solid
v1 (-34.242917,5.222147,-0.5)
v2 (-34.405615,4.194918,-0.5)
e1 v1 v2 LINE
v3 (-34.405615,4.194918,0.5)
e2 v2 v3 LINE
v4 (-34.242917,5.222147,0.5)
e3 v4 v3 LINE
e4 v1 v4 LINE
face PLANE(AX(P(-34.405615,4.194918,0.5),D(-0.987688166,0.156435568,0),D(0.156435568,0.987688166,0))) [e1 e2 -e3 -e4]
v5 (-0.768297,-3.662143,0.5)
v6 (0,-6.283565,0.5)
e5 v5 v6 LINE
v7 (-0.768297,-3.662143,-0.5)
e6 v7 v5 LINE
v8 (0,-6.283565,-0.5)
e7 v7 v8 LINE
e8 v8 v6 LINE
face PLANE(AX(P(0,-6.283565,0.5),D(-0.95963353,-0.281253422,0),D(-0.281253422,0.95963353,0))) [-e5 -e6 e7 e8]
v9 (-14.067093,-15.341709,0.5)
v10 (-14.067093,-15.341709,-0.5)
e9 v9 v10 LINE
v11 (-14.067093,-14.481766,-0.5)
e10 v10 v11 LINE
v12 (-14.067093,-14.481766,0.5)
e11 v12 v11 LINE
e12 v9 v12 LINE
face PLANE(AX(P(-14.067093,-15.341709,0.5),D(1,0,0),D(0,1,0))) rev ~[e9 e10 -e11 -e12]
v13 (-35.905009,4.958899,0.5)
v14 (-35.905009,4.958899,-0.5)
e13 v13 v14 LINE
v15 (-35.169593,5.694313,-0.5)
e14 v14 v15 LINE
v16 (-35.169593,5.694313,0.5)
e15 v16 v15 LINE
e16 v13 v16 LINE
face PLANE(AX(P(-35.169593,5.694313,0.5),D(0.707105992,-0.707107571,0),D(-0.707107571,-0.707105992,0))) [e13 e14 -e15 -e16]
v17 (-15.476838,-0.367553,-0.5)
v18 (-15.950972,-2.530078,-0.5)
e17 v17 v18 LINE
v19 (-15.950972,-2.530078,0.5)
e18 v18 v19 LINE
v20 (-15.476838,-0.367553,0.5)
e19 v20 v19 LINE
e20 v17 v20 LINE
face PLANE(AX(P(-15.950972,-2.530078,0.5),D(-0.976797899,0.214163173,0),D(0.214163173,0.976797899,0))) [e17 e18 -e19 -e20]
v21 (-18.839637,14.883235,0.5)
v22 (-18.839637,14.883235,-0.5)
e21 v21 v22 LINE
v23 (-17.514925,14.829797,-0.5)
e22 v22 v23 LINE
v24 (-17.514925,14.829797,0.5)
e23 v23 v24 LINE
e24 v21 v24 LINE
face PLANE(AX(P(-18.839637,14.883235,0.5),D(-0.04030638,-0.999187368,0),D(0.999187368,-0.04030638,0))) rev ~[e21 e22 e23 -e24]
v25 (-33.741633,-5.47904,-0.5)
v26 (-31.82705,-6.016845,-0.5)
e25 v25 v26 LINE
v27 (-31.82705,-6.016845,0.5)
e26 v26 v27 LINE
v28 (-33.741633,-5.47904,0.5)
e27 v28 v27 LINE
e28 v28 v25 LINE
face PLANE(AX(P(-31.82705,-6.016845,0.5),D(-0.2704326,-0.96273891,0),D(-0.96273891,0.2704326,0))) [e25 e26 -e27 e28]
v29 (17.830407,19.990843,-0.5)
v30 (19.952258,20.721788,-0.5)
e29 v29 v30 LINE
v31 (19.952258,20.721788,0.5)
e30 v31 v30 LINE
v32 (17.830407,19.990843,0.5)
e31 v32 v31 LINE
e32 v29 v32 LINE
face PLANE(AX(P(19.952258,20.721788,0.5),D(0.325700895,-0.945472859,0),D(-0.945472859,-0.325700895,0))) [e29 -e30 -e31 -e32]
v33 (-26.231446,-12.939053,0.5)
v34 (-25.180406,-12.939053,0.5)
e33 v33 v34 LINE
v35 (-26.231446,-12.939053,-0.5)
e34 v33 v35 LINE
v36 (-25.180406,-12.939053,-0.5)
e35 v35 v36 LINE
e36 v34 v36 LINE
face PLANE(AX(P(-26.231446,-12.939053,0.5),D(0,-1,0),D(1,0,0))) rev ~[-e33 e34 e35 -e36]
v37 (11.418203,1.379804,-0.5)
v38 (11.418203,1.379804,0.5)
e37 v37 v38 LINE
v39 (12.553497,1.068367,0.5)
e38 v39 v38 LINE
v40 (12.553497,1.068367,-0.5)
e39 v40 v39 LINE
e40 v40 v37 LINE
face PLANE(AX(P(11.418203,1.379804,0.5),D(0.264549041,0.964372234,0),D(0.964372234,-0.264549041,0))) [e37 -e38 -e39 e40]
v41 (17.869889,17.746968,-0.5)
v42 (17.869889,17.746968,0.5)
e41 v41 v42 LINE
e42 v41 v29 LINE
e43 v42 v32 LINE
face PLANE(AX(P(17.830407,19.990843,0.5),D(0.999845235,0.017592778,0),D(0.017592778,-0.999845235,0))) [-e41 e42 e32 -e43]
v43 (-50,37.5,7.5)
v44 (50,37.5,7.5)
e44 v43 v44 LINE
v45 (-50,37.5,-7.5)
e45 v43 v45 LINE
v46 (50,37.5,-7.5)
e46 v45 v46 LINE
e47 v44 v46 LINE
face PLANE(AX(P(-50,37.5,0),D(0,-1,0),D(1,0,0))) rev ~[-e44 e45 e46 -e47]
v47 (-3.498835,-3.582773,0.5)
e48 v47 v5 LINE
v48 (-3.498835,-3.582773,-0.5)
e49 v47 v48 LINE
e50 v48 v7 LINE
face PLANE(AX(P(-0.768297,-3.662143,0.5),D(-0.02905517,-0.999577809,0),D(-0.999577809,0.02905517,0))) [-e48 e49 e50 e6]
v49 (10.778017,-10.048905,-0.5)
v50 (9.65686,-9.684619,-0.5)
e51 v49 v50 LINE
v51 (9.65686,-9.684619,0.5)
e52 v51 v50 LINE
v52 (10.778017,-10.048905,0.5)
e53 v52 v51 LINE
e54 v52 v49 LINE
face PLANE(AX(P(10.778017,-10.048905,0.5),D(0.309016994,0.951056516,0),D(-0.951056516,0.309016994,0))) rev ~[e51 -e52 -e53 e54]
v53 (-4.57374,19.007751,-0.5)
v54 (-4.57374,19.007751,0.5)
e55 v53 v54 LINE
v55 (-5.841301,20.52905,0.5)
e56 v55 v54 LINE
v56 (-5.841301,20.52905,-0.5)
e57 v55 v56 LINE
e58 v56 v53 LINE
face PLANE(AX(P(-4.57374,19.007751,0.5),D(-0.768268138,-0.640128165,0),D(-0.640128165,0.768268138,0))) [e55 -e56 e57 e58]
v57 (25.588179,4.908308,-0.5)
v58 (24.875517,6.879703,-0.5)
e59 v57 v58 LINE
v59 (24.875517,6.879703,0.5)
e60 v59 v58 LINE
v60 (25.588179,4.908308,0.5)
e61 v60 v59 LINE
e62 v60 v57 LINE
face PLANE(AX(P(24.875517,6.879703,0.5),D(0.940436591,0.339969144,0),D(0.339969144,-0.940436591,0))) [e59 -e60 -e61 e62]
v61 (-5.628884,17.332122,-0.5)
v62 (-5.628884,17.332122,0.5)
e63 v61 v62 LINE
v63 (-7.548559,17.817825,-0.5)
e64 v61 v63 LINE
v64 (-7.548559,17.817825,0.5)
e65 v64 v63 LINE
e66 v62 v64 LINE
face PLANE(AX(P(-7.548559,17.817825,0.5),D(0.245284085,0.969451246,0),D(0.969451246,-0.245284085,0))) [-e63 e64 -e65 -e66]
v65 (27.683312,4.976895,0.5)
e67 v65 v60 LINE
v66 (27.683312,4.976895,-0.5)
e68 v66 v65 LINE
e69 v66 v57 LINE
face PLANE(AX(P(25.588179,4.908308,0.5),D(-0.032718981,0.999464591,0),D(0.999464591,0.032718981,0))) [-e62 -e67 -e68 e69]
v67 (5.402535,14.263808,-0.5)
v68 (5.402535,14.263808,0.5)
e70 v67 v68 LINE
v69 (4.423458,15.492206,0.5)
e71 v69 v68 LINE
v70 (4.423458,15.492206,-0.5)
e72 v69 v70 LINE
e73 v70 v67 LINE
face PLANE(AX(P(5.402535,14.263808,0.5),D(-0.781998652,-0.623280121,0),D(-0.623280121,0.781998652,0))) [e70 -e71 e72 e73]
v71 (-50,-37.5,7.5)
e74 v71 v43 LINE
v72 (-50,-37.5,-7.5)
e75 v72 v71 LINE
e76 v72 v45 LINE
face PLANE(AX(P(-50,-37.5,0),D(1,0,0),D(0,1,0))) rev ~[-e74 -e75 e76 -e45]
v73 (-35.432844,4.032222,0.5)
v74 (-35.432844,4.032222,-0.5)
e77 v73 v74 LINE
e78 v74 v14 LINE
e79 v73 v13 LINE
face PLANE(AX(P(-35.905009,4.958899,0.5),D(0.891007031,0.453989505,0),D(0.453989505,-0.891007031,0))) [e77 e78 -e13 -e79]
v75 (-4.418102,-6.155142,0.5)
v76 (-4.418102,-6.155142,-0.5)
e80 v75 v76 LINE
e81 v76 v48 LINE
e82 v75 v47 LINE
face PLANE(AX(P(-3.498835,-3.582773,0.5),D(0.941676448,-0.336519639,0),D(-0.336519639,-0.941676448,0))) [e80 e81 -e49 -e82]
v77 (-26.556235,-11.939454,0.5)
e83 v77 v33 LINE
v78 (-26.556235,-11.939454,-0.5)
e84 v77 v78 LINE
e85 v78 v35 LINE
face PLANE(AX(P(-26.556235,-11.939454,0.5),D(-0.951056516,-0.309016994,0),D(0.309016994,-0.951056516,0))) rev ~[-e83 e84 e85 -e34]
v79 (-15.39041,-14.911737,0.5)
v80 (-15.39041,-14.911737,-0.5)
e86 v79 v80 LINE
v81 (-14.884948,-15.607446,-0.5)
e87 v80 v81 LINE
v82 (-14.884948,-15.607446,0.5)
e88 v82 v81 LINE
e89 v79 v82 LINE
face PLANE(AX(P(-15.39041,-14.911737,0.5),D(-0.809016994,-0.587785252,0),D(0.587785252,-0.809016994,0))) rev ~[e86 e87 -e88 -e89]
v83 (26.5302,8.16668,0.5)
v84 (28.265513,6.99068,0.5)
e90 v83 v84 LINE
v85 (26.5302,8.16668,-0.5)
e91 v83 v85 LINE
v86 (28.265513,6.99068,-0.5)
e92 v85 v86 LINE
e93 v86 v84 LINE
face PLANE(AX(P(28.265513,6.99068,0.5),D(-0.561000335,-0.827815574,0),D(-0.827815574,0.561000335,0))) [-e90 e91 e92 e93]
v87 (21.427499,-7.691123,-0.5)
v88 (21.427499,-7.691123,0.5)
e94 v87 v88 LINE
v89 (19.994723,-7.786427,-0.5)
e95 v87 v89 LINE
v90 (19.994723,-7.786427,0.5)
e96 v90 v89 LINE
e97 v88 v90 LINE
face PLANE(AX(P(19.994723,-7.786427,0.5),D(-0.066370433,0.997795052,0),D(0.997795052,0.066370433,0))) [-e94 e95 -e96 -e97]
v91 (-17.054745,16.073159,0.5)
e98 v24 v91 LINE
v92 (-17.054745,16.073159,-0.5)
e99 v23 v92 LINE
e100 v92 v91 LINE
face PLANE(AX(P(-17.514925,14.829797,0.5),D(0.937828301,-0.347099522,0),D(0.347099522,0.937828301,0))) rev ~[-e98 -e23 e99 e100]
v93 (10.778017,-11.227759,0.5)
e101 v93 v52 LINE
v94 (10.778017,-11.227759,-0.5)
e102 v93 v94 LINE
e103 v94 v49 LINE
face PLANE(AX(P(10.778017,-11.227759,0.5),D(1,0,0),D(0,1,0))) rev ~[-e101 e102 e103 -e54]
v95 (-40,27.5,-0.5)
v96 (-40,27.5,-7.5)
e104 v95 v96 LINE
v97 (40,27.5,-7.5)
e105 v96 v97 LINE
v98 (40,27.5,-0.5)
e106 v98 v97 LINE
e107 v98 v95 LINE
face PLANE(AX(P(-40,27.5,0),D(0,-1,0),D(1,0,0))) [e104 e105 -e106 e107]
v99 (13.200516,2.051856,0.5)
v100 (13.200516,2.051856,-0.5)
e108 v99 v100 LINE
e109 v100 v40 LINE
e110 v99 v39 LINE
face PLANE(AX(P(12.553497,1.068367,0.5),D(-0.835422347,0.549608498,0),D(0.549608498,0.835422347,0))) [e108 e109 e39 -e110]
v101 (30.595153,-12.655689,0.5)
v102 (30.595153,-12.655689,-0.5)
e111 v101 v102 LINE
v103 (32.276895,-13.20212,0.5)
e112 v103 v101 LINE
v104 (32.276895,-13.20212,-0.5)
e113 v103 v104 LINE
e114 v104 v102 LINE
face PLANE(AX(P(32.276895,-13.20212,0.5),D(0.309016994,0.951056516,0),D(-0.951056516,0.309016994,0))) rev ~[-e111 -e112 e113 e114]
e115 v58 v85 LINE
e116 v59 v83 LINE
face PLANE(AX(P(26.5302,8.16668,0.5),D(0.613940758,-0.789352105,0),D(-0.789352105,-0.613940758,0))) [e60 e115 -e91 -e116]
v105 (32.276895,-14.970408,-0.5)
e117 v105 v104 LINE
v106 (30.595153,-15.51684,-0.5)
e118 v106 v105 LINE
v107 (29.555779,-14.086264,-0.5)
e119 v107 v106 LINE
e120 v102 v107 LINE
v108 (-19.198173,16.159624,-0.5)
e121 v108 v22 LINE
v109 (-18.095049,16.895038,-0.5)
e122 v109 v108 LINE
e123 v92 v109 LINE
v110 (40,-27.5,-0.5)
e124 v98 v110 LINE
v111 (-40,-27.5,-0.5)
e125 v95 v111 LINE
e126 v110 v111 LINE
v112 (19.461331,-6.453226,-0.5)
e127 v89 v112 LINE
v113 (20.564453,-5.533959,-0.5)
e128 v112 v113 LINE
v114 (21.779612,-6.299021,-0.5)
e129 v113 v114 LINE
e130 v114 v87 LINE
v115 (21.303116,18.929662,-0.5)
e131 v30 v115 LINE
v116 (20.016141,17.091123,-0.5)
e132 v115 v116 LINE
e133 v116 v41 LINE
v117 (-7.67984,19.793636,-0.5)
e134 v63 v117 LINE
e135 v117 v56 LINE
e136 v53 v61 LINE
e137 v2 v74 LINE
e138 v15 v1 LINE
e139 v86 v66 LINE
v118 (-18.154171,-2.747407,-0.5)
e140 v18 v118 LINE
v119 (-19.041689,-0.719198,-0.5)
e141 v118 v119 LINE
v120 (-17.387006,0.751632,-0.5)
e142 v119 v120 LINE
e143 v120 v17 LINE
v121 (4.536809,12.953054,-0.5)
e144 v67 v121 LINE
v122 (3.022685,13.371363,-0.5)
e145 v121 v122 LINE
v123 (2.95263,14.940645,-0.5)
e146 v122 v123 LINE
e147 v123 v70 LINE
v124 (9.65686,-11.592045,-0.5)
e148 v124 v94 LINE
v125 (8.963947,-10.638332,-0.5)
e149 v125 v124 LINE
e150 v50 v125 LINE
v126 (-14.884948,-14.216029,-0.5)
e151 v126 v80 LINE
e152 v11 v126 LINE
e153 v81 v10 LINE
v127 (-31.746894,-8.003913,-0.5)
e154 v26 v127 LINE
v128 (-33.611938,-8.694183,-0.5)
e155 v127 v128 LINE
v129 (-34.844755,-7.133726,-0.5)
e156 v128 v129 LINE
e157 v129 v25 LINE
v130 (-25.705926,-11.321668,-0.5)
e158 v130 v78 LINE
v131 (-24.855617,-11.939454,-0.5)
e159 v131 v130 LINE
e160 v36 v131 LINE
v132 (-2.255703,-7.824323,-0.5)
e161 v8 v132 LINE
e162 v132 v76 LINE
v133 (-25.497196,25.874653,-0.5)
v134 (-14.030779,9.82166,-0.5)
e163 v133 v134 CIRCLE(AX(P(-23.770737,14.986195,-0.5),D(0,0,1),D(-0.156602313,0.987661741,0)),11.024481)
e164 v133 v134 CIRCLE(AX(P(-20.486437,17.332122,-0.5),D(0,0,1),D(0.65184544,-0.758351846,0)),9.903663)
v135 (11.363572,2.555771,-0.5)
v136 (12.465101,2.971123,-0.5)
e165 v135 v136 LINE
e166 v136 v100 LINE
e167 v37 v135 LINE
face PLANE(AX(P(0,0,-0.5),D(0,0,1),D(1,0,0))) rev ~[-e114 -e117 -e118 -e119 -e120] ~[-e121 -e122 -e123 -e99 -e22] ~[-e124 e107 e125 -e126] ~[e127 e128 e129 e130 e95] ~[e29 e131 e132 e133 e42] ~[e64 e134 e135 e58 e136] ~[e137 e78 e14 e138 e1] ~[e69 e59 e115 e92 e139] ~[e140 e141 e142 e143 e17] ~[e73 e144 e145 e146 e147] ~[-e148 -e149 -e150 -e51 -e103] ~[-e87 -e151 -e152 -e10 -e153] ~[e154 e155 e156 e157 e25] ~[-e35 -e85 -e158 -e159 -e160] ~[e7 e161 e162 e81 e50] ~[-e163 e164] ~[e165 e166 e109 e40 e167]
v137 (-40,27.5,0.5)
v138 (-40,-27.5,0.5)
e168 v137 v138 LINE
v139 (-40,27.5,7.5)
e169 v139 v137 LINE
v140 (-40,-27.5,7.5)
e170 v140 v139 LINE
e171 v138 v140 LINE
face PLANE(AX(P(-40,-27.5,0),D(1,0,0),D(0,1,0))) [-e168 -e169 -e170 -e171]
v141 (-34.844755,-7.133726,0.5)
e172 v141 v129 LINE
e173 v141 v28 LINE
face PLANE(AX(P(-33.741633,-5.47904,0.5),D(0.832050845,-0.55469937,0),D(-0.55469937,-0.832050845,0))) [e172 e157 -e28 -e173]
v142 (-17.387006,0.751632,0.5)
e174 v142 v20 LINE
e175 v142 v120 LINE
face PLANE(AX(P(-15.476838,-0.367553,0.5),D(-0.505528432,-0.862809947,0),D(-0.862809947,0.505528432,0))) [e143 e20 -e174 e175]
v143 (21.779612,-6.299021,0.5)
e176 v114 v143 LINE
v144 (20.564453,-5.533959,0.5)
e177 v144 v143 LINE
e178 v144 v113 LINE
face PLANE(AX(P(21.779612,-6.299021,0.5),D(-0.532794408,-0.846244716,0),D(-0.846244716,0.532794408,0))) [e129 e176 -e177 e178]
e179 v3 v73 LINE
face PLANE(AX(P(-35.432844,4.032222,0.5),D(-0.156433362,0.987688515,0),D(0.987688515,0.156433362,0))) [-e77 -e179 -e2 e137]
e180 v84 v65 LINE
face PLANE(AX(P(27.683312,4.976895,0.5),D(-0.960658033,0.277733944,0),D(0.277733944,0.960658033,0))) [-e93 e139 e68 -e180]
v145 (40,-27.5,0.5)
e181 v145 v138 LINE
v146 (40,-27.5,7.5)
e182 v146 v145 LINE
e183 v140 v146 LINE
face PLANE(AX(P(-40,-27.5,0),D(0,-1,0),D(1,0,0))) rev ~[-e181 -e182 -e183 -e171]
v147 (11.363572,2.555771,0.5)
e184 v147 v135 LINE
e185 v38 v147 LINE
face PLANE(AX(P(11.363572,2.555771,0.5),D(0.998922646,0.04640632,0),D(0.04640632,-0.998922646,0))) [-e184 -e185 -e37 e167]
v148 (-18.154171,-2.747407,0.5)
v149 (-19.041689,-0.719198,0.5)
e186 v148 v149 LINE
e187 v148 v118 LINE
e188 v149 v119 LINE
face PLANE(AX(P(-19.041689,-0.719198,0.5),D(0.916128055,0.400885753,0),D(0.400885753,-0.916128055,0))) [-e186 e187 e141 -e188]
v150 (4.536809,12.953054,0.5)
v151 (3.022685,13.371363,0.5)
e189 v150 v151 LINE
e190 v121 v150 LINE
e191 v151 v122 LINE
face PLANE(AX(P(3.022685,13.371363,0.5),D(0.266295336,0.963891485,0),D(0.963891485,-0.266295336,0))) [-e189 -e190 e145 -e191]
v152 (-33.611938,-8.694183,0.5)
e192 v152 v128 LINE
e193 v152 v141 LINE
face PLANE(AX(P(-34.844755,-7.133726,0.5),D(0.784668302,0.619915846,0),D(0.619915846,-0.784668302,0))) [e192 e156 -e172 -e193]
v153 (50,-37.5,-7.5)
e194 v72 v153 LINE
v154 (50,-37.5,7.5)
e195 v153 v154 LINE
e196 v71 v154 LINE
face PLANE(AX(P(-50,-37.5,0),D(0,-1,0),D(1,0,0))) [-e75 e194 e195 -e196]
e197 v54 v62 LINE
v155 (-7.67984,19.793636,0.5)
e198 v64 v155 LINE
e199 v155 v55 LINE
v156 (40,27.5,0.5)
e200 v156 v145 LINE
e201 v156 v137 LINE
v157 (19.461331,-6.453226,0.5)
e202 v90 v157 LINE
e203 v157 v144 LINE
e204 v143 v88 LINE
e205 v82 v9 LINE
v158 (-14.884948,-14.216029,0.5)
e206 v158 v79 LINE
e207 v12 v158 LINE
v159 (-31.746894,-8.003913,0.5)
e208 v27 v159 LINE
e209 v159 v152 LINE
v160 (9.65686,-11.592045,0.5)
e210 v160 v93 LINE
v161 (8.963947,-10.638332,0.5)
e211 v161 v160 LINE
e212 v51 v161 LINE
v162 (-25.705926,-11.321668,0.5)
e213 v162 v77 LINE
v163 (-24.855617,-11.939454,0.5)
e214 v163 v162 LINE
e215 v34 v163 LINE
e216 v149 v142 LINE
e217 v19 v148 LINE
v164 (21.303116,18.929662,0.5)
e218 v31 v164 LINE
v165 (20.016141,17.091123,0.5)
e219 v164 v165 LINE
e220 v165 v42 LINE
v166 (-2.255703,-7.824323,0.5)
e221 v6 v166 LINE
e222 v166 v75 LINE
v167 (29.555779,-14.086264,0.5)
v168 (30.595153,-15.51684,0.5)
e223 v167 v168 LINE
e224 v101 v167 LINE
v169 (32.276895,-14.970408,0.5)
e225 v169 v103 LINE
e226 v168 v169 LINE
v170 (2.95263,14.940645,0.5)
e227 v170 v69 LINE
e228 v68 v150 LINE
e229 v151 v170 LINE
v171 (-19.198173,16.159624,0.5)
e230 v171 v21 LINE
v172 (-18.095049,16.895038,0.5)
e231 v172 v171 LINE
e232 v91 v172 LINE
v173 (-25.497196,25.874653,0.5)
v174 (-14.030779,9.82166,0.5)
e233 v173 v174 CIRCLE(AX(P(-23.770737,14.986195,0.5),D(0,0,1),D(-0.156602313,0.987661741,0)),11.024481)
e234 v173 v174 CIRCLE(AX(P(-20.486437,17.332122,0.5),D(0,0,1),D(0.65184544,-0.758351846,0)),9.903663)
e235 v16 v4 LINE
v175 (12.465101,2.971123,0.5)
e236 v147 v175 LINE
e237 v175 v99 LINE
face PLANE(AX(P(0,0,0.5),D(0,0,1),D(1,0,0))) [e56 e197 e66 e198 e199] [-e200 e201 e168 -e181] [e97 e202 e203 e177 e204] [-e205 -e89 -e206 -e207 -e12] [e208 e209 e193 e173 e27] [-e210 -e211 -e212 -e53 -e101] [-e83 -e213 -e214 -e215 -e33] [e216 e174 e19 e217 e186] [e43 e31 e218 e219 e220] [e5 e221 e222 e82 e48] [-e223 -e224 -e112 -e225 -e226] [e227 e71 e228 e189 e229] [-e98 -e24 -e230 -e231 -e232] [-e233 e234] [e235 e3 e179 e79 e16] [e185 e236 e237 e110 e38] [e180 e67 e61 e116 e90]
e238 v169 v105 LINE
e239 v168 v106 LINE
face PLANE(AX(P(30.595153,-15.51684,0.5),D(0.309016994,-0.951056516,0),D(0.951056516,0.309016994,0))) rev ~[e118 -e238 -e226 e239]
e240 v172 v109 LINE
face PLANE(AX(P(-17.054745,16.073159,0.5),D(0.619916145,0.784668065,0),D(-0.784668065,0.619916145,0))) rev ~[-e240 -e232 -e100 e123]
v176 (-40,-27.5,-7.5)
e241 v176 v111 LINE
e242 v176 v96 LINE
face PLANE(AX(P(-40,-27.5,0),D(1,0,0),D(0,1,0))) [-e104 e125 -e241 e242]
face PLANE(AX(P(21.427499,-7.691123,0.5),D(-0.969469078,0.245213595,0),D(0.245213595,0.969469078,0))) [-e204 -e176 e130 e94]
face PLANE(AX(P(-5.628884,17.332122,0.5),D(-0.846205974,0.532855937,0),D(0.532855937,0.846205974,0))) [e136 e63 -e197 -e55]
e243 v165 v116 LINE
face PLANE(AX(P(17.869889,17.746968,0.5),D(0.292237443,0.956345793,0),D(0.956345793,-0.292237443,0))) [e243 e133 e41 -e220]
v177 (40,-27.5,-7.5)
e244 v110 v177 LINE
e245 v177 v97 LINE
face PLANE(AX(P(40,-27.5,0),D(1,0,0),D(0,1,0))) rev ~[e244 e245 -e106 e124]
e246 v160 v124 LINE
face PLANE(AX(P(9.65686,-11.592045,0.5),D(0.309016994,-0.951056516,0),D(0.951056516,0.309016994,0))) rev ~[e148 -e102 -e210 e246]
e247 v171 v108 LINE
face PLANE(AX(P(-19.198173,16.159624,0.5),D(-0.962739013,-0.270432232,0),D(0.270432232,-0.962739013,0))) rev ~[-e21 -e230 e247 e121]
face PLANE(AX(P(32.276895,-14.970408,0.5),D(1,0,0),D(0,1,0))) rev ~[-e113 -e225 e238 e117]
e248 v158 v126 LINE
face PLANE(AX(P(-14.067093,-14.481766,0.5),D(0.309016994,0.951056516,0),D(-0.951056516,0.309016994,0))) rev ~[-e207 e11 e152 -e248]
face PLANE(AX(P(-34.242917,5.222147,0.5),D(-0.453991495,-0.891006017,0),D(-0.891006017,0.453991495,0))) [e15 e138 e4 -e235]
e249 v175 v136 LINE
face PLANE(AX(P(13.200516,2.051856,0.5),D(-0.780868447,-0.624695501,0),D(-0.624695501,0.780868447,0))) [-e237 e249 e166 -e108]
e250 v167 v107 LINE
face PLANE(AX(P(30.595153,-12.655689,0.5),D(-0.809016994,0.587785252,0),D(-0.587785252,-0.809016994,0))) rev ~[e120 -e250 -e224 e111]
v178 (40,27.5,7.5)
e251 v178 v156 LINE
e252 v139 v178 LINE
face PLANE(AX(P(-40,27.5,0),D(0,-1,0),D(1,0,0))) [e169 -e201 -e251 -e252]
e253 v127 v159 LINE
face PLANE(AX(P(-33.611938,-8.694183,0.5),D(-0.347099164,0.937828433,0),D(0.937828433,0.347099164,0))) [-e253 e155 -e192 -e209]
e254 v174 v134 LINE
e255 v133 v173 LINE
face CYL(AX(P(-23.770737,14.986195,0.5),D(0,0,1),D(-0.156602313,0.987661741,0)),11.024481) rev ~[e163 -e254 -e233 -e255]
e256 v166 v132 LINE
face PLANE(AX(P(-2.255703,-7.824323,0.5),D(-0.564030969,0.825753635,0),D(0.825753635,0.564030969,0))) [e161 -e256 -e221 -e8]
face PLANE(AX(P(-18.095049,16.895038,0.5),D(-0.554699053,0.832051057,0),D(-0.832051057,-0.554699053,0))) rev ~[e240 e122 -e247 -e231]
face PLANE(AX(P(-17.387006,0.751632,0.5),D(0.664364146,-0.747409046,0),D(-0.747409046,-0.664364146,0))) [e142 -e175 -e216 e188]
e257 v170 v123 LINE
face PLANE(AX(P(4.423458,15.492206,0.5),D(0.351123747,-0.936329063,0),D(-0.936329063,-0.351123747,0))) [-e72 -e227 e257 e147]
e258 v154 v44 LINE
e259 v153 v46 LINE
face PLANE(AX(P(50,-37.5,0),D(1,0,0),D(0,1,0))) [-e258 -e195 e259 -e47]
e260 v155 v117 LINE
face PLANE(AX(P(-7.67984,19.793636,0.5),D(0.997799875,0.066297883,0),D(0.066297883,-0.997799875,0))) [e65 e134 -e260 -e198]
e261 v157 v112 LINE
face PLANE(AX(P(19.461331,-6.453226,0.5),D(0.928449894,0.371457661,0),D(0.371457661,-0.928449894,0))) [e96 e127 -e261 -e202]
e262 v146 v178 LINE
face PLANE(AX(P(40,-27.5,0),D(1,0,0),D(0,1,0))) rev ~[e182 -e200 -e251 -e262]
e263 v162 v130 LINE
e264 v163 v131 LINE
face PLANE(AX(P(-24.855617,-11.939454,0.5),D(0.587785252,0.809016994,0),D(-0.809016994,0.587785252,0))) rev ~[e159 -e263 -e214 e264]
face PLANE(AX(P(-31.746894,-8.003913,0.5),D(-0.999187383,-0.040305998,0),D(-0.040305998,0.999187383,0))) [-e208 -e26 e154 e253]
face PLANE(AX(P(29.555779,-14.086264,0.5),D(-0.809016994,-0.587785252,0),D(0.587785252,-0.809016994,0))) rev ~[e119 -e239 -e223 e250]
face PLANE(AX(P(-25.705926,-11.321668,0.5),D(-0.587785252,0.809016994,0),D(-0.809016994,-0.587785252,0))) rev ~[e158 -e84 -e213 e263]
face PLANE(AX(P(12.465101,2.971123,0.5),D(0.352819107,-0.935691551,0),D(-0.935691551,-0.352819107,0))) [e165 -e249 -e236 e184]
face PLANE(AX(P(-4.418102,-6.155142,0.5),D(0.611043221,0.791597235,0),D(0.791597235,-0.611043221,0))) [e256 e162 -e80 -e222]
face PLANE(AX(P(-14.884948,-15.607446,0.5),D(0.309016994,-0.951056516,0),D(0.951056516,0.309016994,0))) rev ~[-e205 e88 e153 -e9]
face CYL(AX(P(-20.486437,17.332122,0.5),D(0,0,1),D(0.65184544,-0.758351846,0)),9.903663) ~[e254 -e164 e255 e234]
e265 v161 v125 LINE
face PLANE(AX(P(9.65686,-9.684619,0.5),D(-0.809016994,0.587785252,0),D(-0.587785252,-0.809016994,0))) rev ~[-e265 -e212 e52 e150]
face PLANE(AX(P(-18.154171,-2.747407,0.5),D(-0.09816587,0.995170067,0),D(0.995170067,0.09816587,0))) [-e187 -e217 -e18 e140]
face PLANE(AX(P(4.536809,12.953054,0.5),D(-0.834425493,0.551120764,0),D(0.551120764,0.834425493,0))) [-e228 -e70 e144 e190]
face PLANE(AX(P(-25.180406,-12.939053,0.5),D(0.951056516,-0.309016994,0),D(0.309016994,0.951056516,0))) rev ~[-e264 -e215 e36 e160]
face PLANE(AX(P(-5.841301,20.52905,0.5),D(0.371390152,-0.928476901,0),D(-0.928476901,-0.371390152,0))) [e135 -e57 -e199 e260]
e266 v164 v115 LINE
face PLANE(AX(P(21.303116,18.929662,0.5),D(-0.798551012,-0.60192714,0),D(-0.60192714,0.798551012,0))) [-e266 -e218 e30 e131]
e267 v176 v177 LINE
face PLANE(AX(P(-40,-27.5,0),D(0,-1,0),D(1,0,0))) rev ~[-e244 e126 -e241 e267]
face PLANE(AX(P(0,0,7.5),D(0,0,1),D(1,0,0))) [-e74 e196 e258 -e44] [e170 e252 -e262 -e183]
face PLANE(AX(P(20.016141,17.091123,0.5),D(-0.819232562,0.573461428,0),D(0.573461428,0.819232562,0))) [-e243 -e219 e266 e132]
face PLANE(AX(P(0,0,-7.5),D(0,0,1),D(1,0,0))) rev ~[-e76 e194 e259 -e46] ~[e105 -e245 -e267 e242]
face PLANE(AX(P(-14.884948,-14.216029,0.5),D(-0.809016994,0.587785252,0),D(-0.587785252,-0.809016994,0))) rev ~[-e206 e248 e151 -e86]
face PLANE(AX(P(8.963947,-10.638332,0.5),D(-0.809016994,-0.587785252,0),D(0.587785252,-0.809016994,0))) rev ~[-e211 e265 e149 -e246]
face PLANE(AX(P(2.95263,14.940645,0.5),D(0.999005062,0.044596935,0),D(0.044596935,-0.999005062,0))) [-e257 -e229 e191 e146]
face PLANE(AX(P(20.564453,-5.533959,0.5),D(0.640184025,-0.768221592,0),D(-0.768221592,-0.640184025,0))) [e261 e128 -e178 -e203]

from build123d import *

# Parameters (mm, degrees)
F0_W     = 100
F0_H     = 75
F0_W_2   = 80
F0_H_2   = 55
F1_DEPTH = 7.5
F2_W     = 85
F2_H     = 60
F3_DEPTH = 0.5
F5_DEPTH = 4
F7_DEPTH = 4
F9_DEPTH = 2


with BuildPart() as f1:
    # F0 (on Top) → F1 (new body, symmetric)
    with BuildSketch(Plane.XY):
        Rectangle(F0_W, F0_H)
        Rectangle(F0_W_2, F0_H_2, mode=Mode.SUBTRACT)
    extrude(amount=F1_DEPTH, both=True)

    # F2 (on Top) → F3 (join, symmetric)
    with BuildSketch(Plane.XY):
        Rectangle(F2_W, F2_H)
    extrude(amount=F3_DEPTH, both=True)

    # F4 (on face) → F5 (cut, symmetric)
    with BuildSketch(Plane.XY.offset(0.5)):
        with BuildLine():
            ThreePointArc((-14.030779073, 9.8216604466), (-28.5453805779, 11.5757365705), (-25.4971957792, 25.8746529394))
            ThreePointArc((-25.4971957792, 25.8746529394), (-32.7417275782, 8.5783475559), (-14.030779073, 9.8216604466))
        make_face()
    extrude(amount=F5_DEPTH, both=True, mode=Mode.SUBTRACT)

    # F6 (on face) → F7 (cut, symmetric)
    with BuildSketch(Plane.XY.offset(0.5)):
        Polygon((-33.6119382633, -8.6941833252), (-31.7468941212, -8.0039128661), (-31.8270500041, -6.016845179), (-33.7416332062, -5.4790402695), (-34.8447548165, -7.1337262432), align=None)
        Polygon((-18.1541709736, -2.747406776), (-15.9509722143, -2.5300781708), (-15.4768381419, -0.3675534018), (-17.3870059292, 0.7516318018), (-19.0416886183, -0.7191984717), align=None)
        Polygon((-35.4328444953, 4.0322221243), (-34.4056151807, 4.1949180886), (-34.2429169225, 5.2221470399), (-35.1695931836, 5.6943134817), (-35.9050088677, 4.9588994397), align=None)
        Polygon((-2.2557034881, -7.8243230846), (0, -6.2835649587), (-0.7682973436, -3.6621430124), (-3.4988347035, -3.5827732766), (-4.4181022559, -6.1551420285), align=None)
        Polygon((25.5881788104, 4.9083078249), (27.6833120733, 4.9768951721), (28.2655134136, 6.9906799703), (26.5302003672, 8.1666800743), (24.8755165832, 6.8797033113), align=None)
        Polygon((19.9947226477, -7.7864271936), (21.4274991304, -7.6911230572), (21.7796117926, -6.2990210491), (20.5644529031, -5.5339588288), (19.4613307453, -6.4532263812), align=None)
        Polygon((11.3635717008, 2.5557714691), (11.4182028919, 1.3798037544), (12.5534966165, 1.068367096), (13.2005155343, 2.0518563705), (12.4651014924, 2.9711228281), align=None)
        Polygon((3.0226850162, 13.37136293), (4.5368093997, 12.9530541599), (5.4025348475, 14.2638075025), (4.4234582156, 15.4922063892), (2.9526301317, 14.9406453103), align=None)
        Polygon((19.9522579427, 20.7217878026), (17.8304072469, 19.9908427894), (17.8698893403, 17.7469684276), (20.0161413117, 17.0911228187), (21.3031158851, 18.9296623029), align=None)
        Polygon((-7.5485593761, 17.8178252237), (-5.6288838387, 17.3321217299), (-4.5737400011, 19.0077510251), (-5.8413007839, 20.529050376), (-7.6798402681, 19.7936357866), align=None)
        Polygon((-18.8396373222, 14.8832345039), (-17.5149254501, 14.8297967389), (-17.0547446343, 16.0731594196), (-18.0950491213, 16.8950375816), (-19.1981734687, 16.1596235397), align=None)
    extrude(amount=F7_DEPTH, both=True, mode=Mode.SUBTRACT)

    # F8 (on face) → F9 (cut)
    with BuildSketch(Plane.XY.offset(0.5)):
        Polygon((-26.2314461983, -12.9390526563), (-25.1804060423, -12.9390526563), (-24.8556167723, -11.9394540671), (-25.7059261203, -11.3216681638), (-26.5562354682, -11.9394540671), align=None)
        Polygon((-14.0670929104, -15.3417089426), (-14.0670929104, -14.4817656435), (-14.8849475887, -14.2160285498), (-15.3904095777, -14.911737293), (-14.8849475887, -15.6074460362), align=None)
        Polygon((32.2768948972, -14.9704083861), (32.2768948972, -13.2021199851), (30.5951526907, -12.6556888182), (29.5557788468, -14.0862641856), (30.5951526907, -15.516839553), align=None)
        Polygon((10.7780173421, -11.227759206), (10.7780173421, -10.0489047829), (9.6568601613, -9.6846187323), (8.9639469168, -10.6383319944), (9.6568601613, -11.5920452566), align=None)
    extrude(amount=-F9_DEPTH, mode=Mode.SUBTRACT)


solid = f1.part
